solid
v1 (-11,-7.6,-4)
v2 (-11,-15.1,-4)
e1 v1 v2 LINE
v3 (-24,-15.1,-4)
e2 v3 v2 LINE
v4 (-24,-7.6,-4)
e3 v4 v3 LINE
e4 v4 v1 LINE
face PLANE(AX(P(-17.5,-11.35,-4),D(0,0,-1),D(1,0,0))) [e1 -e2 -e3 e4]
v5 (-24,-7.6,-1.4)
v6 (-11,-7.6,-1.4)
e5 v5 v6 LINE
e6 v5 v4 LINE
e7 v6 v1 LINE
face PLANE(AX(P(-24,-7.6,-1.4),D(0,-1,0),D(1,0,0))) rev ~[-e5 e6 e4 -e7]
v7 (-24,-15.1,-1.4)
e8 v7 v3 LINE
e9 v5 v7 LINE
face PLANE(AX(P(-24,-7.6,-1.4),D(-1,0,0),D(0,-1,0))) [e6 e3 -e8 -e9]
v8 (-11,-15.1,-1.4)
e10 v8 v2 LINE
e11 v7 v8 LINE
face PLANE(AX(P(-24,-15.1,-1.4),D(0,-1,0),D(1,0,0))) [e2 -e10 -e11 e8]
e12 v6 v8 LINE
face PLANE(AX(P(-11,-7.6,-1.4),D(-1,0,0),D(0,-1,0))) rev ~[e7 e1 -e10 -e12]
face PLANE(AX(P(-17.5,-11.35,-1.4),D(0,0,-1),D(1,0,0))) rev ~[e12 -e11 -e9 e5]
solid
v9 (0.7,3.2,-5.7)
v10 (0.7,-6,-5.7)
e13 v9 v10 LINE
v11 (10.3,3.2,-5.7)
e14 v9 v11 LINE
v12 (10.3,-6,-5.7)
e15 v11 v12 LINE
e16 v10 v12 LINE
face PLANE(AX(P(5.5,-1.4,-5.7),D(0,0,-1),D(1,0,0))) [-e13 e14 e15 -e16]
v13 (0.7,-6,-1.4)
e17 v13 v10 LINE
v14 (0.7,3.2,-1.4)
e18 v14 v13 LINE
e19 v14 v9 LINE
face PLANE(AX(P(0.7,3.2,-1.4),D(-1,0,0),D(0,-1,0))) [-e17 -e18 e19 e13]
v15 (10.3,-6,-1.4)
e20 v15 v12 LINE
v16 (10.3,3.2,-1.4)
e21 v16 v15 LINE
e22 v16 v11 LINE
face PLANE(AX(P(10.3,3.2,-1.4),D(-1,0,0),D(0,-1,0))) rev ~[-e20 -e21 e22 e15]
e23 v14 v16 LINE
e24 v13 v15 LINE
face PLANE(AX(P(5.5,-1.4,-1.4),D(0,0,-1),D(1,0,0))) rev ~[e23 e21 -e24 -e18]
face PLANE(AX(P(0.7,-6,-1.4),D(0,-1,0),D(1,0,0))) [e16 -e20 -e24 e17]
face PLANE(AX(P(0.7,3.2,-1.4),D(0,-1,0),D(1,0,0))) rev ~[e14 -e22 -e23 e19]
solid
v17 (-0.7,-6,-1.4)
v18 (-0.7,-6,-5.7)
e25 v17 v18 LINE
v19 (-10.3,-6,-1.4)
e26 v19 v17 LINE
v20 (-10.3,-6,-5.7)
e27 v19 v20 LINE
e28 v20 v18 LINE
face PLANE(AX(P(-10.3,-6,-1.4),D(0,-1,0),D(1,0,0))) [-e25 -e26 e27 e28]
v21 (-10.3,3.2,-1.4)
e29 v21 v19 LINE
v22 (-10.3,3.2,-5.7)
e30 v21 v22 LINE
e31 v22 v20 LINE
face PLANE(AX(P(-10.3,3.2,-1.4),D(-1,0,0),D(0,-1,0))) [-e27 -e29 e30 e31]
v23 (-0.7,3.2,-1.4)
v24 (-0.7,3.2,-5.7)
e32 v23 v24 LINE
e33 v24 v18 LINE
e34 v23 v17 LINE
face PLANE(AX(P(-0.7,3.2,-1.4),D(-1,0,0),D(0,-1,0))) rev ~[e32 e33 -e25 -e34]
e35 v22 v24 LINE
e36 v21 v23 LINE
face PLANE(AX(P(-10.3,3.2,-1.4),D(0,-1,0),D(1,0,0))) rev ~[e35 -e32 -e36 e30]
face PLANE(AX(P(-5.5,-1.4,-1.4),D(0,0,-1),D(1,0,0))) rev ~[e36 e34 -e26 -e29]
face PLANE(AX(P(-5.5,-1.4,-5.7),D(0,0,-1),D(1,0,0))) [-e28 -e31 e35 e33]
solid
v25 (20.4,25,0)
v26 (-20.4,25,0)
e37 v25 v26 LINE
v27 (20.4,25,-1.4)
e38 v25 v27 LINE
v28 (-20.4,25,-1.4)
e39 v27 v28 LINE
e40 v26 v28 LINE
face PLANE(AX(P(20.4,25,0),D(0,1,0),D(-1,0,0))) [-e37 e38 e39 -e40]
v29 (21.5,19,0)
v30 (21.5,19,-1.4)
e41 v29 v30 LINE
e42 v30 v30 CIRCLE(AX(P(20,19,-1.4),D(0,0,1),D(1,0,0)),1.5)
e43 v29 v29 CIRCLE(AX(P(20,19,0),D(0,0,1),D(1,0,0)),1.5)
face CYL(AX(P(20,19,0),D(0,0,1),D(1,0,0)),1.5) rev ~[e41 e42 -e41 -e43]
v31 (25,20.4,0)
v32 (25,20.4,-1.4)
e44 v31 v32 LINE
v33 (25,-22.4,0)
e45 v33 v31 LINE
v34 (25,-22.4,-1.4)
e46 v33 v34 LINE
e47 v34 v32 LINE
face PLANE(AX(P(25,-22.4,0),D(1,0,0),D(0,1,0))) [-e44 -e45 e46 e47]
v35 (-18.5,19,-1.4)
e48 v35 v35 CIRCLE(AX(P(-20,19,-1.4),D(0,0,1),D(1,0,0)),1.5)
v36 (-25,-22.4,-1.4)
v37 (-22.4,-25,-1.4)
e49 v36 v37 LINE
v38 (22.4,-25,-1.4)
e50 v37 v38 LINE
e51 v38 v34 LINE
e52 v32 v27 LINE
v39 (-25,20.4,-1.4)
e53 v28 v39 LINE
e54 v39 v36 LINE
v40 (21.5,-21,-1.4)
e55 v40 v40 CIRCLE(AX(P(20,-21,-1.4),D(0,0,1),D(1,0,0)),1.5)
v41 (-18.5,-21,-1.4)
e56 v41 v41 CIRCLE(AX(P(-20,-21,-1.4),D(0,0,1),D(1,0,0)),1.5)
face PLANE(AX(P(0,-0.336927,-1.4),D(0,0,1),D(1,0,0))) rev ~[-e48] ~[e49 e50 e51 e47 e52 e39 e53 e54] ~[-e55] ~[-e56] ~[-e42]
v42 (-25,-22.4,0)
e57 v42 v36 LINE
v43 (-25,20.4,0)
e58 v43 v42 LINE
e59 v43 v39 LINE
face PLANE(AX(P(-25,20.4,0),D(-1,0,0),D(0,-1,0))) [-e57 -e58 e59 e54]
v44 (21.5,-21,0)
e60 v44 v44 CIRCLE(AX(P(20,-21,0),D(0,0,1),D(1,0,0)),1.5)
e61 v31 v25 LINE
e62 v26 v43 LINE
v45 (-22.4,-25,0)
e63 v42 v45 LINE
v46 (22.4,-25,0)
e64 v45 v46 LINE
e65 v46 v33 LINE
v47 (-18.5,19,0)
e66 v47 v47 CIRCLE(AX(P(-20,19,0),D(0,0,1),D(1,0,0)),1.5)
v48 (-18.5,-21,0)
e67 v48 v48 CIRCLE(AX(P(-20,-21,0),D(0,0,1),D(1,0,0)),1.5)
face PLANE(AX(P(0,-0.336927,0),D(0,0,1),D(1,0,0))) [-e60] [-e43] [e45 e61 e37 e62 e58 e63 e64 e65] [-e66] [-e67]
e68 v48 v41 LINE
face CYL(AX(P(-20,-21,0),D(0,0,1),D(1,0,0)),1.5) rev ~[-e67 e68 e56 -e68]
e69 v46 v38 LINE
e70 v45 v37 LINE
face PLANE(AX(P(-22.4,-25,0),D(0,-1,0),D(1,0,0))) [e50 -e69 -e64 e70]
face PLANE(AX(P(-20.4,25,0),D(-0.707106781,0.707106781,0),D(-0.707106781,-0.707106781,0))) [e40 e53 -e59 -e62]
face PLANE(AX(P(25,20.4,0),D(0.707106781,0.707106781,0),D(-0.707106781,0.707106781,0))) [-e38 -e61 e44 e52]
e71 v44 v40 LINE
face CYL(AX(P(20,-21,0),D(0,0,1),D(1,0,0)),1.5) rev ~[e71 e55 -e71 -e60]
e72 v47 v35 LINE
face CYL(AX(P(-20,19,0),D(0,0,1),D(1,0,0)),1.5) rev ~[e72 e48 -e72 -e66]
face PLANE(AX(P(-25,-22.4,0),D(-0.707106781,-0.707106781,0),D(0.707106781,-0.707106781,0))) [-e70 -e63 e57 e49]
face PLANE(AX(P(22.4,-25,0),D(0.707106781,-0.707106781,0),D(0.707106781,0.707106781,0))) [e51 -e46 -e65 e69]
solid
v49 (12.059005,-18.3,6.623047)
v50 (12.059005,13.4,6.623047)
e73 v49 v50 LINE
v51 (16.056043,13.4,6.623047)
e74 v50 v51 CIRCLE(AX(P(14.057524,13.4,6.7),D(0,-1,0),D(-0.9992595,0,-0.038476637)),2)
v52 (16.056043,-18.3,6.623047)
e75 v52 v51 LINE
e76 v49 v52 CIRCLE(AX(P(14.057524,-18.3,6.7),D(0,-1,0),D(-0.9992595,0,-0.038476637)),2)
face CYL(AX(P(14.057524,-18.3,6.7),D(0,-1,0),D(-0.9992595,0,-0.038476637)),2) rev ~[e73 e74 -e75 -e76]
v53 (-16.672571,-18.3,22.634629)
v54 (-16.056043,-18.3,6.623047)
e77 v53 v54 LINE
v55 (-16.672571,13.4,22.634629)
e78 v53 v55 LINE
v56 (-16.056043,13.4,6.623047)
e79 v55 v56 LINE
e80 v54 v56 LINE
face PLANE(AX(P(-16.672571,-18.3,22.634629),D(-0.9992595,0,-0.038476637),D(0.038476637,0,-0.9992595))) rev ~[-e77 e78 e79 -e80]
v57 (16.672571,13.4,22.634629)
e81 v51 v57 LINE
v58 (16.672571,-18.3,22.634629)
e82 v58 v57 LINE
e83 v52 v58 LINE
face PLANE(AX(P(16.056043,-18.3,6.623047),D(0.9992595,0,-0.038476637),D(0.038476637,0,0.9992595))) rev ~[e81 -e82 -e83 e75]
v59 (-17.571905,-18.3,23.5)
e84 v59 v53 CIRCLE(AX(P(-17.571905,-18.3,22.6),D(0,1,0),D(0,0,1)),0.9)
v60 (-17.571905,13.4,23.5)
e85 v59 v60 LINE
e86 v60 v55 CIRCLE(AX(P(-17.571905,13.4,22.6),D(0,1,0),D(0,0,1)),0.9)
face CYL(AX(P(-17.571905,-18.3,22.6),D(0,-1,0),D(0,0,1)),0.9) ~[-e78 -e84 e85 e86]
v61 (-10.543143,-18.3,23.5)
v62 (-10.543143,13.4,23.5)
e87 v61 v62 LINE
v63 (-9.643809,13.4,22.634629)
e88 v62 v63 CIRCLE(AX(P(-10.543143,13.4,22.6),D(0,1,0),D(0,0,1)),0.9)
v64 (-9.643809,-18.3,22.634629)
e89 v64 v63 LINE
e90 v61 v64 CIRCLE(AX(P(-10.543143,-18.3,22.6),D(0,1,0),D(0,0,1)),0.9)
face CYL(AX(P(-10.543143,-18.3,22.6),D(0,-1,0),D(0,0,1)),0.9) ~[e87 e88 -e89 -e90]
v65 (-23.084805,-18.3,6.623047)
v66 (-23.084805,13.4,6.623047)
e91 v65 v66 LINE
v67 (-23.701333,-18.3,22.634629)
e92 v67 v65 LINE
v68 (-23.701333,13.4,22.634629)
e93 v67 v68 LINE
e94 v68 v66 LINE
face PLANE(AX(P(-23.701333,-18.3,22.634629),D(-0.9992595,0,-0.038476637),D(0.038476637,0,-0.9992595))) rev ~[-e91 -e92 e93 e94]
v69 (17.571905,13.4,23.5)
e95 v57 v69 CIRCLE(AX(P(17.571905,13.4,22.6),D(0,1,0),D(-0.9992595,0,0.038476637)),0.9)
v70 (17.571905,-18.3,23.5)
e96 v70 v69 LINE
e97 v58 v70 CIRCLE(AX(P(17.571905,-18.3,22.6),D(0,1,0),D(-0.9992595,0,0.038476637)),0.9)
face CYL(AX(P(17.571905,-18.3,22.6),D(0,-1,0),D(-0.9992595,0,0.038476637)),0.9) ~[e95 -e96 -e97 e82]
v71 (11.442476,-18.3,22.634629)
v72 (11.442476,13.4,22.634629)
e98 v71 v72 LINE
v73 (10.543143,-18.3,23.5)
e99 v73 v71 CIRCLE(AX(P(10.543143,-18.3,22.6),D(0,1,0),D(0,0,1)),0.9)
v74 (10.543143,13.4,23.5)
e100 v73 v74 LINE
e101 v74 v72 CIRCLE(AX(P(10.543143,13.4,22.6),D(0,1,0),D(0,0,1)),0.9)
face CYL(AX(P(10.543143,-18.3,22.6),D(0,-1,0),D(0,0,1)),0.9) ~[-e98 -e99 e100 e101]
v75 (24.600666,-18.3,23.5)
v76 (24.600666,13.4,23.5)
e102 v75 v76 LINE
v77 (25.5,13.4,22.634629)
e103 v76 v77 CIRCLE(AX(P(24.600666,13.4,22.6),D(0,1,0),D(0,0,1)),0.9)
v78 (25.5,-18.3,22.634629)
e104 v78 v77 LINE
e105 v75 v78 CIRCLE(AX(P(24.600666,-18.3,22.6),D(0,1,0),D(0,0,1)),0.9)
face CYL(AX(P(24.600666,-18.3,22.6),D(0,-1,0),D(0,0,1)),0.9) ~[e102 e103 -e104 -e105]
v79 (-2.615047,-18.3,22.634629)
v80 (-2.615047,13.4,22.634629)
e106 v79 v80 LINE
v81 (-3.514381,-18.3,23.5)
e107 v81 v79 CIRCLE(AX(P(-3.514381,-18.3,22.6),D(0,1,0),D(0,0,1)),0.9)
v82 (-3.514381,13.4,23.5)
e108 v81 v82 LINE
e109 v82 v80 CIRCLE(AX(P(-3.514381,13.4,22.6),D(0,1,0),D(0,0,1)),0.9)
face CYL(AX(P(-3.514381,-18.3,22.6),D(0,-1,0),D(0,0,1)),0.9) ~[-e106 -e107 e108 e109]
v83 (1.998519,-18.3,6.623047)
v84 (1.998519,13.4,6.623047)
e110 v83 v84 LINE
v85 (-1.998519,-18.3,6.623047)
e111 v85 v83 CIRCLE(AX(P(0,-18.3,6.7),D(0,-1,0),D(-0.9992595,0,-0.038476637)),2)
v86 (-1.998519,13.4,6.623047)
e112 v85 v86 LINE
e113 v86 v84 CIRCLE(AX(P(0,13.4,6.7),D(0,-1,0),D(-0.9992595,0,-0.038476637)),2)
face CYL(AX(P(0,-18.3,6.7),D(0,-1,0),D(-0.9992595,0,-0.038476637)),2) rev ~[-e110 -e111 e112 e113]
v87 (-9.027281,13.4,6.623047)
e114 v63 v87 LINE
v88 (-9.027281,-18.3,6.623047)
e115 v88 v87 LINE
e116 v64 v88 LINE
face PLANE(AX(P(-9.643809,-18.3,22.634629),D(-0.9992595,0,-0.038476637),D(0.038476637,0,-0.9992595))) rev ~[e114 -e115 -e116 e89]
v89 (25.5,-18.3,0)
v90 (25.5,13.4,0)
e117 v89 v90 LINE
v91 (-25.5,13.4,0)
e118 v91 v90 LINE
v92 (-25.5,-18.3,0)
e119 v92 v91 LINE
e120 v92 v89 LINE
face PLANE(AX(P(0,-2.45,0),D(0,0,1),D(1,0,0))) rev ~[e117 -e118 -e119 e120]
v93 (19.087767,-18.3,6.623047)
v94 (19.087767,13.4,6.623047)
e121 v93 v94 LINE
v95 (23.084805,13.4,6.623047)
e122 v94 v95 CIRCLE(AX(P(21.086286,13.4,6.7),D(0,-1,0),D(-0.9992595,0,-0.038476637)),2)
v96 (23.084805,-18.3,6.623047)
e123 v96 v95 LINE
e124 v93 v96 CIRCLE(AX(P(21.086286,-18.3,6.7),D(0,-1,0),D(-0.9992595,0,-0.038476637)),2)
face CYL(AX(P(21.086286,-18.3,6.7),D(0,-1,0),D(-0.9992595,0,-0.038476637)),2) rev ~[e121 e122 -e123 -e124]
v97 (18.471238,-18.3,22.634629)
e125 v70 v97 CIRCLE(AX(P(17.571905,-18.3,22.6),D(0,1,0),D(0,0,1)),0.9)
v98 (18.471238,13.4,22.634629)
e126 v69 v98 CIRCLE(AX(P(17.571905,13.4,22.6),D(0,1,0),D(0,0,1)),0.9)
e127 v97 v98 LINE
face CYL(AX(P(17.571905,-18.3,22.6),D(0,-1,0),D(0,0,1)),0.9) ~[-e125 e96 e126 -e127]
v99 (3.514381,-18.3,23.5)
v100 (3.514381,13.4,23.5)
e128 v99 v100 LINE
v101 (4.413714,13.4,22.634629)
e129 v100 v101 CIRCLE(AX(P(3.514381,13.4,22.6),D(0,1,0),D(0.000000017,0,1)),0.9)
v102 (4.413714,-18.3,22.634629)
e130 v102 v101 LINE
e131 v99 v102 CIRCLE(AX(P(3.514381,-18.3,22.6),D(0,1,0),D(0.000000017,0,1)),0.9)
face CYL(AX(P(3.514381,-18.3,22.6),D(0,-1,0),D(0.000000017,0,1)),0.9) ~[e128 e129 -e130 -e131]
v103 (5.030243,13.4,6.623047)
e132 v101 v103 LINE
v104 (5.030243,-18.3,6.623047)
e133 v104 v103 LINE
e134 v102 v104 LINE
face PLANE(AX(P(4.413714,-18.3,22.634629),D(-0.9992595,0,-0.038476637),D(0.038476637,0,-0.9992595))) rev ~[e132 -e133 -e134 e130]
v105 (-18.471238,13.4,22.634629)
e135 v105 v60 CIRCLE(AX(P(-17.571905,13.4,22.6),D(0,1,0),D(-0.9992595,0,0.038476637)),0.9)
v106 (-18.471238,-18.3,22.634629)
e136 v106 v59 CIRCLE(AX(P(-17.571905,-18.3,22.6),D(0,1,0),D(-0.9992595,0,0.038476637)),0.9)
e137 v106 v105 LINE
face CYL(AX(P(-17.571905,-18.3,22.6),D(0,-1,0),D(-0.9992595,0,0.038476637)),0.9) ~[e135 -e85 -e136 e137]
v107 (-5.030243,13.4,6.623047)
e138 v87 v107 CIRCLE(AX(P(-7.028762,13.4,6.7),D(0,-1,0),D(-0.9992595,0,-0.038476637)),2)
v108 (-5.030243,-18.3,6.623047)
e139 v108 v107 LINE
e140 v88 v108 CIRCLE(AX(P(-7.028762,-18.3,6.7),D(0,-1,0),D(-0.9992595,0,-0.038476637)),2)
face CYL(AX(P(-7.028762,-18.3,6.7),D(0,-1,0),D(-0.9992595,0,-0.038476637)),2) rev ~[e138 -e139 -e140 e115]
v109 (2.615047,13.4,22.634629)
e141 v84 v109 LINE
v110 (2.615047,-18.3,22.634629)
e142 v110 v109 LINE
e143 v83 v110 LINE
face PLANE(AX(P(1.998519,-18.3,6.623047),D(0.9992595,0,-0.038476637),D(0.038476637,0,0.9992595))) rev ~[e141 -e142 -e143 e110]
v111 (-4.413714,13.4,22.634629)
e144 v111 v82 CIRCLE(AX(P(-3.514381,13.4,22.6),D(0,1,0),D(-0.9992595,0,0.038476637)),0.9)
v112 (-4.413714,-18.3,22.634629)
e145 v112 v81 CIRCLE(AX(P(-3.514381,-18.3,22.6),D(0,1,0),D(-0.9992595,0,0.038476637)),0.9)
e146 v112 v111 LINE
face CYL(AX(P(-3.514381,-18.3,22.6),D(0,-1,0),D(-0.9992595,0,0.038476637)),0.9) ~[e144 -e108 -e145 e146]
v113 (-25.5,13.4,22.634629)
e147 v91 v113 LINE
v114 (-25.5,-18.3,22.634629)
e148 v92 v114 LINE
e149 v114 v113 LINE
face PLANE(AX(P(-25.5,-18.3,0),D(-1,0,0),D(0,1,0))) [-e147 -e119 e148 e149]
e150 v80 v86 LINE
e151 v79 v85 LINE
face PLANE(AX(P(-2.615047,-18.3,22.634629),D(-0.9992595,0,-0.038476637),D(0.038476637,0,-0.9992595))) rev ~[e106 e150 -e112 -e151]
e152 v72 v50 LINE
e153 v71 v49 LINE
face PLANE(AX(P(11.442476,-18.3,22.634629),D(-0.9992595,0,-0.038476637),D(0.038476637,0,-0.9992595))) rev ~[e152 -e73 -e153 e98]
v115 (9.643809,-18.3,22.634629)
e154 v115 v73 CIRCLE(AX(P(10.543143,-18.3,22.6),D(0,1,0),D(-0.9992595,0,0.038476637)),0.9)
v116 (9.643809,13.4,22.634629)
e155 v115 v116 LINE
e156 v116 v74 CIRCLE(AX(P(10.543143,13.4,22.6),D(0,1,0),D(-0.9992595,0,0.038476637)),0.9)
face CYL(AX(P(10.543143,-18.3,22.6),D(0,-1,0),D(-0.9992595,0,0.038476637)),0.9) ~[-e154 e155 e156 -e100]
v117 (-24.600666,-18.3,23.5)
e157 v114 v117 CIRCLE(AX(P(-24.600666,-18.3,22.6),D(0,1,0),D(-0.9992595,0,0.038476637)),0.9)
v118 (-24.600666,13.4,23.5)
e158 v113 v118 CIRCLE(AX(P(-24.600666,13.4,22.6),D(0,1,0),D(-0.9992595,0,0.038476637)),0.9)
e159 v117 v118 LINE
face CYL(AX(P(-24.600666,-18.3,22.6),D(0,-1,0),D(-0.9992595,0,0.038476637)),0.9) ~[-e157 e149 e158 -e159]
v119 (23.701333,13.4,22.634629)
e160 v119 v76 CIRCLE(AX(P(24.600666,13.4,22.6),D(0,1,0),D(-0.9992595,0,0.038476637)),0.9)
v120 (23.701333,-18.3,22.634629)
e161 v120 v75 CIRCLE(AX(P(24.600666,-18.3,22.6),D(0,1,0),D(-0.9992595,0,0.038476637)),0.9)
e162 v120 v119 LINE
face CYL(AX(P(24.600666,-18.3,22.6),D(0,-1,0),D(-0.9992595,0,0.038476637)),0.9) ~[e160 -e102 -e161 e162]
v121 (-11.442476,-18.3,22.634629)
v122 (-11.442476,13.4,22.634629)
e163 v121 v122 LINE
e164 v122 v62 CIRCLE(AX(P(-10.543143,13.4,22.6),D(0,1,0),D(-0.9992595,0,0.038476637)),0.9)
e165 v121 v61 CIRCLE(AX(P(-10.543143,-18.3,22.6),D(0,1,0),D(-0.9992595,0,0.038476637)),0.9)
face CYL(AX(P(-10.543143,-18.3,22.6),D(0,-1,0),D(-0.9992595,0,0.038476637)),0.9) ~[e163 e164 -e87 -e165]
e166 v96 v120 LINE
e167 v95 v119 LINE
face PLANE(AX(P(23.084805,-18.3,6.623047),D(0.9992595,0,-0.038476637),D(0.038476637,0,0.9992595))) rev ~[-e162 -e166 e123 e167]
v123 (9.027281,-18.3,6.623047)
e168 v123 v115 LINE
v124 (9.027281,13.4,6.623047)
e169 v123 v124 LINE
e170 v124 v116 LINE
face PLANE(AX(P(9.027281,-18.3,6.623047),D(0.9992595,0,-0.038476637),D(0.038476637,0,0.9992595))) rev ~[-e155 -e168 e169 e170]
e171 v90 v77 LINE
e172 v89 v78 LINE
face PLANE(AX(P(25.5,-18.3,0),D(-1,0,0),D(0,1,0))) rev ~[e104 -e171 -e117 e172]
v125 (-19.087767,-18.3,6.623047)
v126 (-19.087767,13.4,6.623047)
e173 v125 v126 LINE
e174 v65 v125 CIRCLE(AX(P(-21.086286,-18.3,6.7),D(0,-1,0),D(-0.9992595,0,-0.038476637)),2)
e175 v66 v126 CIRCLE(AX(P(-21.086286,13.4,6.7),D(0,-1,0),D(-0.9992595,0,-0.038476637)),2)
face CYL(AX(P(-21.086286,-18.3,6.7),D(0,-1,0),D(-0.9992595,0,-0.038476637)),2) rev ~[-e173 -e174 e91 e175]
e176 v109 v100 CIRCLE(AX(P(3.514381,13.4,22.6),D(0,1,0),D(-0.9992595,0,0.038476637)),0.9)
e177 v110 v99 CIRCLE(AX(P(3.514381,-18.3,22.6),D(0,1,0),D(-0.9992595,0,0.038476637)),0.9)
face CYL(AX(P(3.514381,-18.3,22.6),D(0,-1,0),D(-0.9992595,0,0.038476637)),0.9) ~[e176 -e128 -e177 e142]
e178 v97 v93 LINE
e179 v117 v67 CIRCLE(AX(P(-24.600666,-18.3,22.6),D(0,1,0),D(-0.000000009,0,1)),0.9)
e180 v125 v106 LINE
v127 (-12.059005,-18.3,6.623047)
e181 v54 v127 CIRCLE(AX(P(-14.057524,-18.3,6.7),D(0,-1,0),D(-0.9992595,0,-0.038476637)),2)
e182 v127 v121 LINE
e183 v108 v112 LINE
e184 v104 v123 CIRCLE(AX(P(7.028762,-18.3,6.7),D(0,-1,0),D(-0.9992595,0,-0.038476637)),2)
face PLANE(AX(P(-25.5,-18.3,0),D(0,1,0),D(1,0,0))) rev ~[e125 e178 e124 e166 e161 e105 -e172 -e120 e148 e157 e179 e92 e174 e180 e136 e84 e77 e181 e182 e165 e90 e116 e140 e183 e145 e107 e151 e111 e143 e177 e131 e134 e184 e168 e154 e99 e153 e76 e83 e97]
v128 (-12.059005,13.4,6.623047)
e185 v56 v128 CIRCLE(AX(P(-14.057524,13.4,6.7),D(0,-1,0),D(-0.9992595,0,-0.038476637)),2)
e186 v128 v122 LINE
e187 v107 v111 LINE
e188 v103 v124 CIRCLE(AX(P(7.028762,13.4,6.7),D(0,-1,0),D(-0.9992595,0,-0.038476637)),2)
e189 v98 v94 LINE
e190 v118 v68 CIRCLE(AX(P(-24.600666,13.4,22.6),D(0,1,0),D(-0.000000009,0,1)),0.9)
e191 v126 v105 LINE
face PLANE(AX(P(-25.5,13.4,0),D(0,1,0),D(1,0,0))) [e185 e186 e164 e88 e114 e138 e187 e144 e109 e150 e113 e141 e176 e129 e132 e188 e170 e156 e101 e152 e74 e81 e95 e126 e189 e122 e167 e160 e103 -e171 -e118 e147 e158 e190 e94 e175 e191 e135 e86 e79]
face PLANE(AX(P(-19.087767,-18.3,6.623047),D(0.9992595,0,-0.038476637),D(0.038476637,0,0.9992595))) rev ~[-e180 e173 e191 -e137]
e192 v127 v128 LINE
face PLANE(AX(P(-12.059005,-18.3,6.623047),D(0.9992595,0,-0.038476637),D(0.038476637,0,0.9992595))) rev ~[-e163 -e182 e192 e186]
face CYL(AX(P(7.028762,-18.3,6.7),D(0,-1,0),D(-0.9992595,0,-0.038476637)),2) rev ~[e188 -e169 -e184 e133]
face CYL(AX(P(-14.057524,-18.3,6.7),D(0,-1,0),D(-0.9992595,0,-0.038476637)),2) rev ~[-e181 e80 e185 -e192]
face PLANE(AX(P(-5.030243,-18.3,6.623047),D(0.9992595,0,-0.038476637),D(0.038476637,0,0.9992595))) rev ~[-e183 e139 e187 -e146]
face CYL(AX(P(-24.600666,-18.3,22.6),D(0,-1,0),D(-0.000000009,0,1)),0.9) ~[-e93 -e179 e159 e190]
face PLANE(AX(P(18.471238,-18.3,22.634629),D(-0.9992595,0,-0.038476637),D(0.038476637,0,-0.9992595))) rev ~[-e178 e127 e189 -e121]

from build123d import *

# Parameters (mm, degrees)
F0_R     = 1.5
F1_DEPTH = 1.4
F2_W     = 51
F2_H     = 31.7
F3_DEPTH = 23.5
F5_DEPTH = 31.7
F6_W     = 9.6
F6_H     = 9.2
F7_DEPTH = 4.3
F6_W_2   = 13
F6_H_2   = 7.5
F8_DEPTH = 2.6


with BuildPart() as f1:
    # F0 (on Top) → F1 (new body)
    with BuildSketch(Plane.XY):
        Polygon((-25, -22.4), (-22.4, -25), (22.4, -25), (25, -22.4), (25, 20.4), (20.4, 25), (-20.4, 25), (-25, 20.4), align=None)
        with Locations((-20, -21)):
            Circle(F0_R, mode=Mode.SUBTRACT)
        with Locations((20, -21)):
            Circle(F0_R, mode=Mode.SUBTRACT)
        with Locations((-20, 19)):
            Circle(F0_R, mode=Mode.SUBTRACT)
        with Locations((20, 19)):
            Circle(F0_R, mode=Mode.SUBTRACT)
    extrude(amount=-F1_DEPTH)


with BuildPart() as f3:
    # F2 (on face) → F3 (new body)
    with BuildSketch(Plane.XY):
        with Locations((0, -2.45)):
            Rectangle(F2_W, F2_H)
    extrude(amount=F3_DEPTH)

    # F4 (on face) → F5 (cut, through all)
    with BuildSketch(Plane.XZ.offset(18.3)):
        with BuildLine():
            ThreePointArc((-18.4712381572, 22.634628973), (-18.1959374285, 23.2485237373), (-17.5719046071, 23.5))
            Line((-17.5719046071, 23.5), (-24.600666458, 23.5))
            ThreePointArc((-24.600666458, 23.5), (-23.9766336315, 23.2485237401), (-23.7013328999, 22.634628973))
            Line((-23.7013328999, 22.634628973), (-23.0848045286, 6.6230467267))
            ThreePointArc((-23.0848045286, 6.6230467267), (-21.0862855285, 4.7), (-19.0877665284, 6.6230467267))
            Line((-19.0877665284, 6.6230467267), (-18.4712381572, 22.634628973))
        make_face()
        with BuildLine():
            ThreePointArc((-11.4424763143, 22.634628973), (-11.1671755857, 23.2485237373), (-10.5431427643, 23.5))
            Line((-10.5431427643, 23.5), (-17.5719046071, 23.5))
            ThreePointArc((-17.5719046071, 23.5), (-16.9478717857, 23.2485237373), (-16.6725710571, 22.634628973))
            Line((-16.6725710571, 22.634628973), (-16.0560426858, 6.6230467267))
            ThreePointArc((-16.0560426858, 6.6230467267), (-14.0575236857, 4.7), (-12.0590046856, 6.6230467267))
            Line((-12.0590046856, 6.6230467267), (-11.4424763143, 22.634628973))
        make_face()
        with BuildLine():
            ThreePointArc((-4.4137144715, 22.634628973), (-4.1384137428, 23.2485237373), (-3.5143809214, 23.5))
            Line((-3.5143809214, 23.5), (-10.5431427643, 23.5))
            ThreePointArc((-10.5431427643, 23.5), (-9.9191099429, 23.2485237373), (-9.6438092142, 22.634628973))
            Line((-9.6438092142, 22.634628973), (-9.0272808429, 6.6230467267))
            ThreePointArc((-9.0272808429, 6.6230467267), (-7.0287618428, 4.7), (-5.0302428428, 6.6230467267))
            Line((-5.0302428428, 6.6230467267), (-4.4137144715, 22.634628973))
        make_face()
        with BuildLine():
            ThreePointArc((-3.5143809214, 23.5), (-2.8903481, 23.2485237373), (-2.6150473714, 22.634628973))
            Line((-2.6150473714, 22.634628973), (-1.998519, 6.6230467267))
            ThreePointArc((-1.998519, 6.6230467267), (0, 4.7), (1.998519, 6.6230467267))
            Line((1.998519, 6.6230467267), (2.6150473714, 22.634628973))
            ThreePointArc((2.6150473714, 22.634628973), (2.8903481055, 23.2485237425), (3.5143809365, 23.5))
            Line((3.5143809365, 23.5), (-3.5143809214, 23.5))
        make_face()
        with BuildLine():
            Line((10.5431427643, 23.5), (3.5143809365, 23.5))
            ThreePointArc((3.5143809365, 23.5), (4.1384137483, 23.2485237321), (4.4137144715, 22.634628973))
            Line((4.4137144715, 22.634628973), (5.0302428428, 6.6230467267))
            ThreePointArc((5.0302428428, 6.6230467267), (7.0287618428, 4.7), (9.0272808429, 6.6230467267))
            Line((9.0272808429, 6.6230467267), (9.6438092142, 22.634628973))
            ThreePointArc((9.6438092142, 22.634628973), (9.9191099429, 23.2485237373), (10.5431427643, 23.5))
        make_face()
        with BuildLine():
            Line((17.5719046071, 23.5), (10.5431427643, 23.5))
            ThreePointArc((10.5431427643, 23.5), (11.1671755857, 23.2485237373), (11.4424763143, 22.634628973))
            Line((11.4424763143, 22.634628973), (12.0590046856, 6.6230467267))
            ThreePointArc((12.0590046856, 6.6230467267), (14.0575236857, 4.7), (16.0560426858, 6.6230467267))
            Line((16.0560426858, 6.6230467267), (16.6725710571, 22.634628973))
            ThreePointArc((16.6725710571, 22.634628973), (16.9478717857, 23.2485237373), (17.5719046071, 23.5))
        make_face()
        with BuildLine():
            Line((24.60066645, 23.5), (17.5719046071, 23.5))
            ThreePointArc((17.5719046071, 23.5), (18.1959374285, 23.2485237373), (18.4712381572, 22.634628973))
            Line((18.4712381572, 22.634628973), (19.0877665284, 6.6230467267))
            ThreePointArc((19.0877665284, 6.6230467267), (21.0862855285, 4.7), (23.0848045286, 6.6230467267))
            Line((23.0848045286, 6.6230467267), (23.7013328999, 22.634628973))
            ThreePointArc((23.7013328999, 22.634628973), (23.9766336286, 23.2485237373), (24.60066645, 23.5))
        make_face()
        with BuildLine():
            Line((25.5, 23.5), (24.60066645, 23.5))
            ThreePointArc((24.60066645, 23.5), (25.2246992713, 23.2485237373), (25.5, 22.634628973))
            Line((25.5, 22.634628973), (25.5, 23.5))
        make_face()
        with BuildLine():
            ThreePointArc((-25.5, 22.634628973), (-25.2246992742, 23.2485237345), (-24.600666458, 23.5))
            Line((-24.600666458, 23.5), (-25.5, 23.5))
            Line((-25.5, 23.5), (-25.5, 22.634628973))
        make_face()
    extrude(amount=-F5_DEPTH, mode=Mode.SUBTRACT)


with BuildPart() as f7:
    # F6 (on face) → F7 (new body)
    with BuildSketch(Plane(origin=(0, 0, -1.4), x_dir=(1, 0, 0), z_dir=(0, 0, -1))):
        with Locations((5.5, 1.4)):
            Rectangle(F6_W, F6_H)
    extrude(amount=F7_DEPTH)


with BuildPart() as f7b:
    # F6 (on face) → F7, piece 2 (new body)
    with BuildSketch(Plane(origin=(0, 0, -1.4), x_dir=(1, 0, 0), z_dir=(0, 0, -1))):
        with Locations((-5.5, 1.4)):
            Rectangle(F6_W, F6_H)
    extrude(amount=F7_DEPTH)


with BuildPart() as f8:
    # F6 (on face) → F8 (new body)
    with BuildSketch(Plane(origin=(0, 0, -1.4), x_dir=(1, 0, 0), z_dir=(0, 0, -1))):
        with Locations((-17.5, 11.35)):
            Rectangle(F6_W_2, F6_H_2)
    extrude(amount=F8_DEPTH)


solid = Compound([f1.part, f3.part, f7.part, f7b.part, f8.part])
